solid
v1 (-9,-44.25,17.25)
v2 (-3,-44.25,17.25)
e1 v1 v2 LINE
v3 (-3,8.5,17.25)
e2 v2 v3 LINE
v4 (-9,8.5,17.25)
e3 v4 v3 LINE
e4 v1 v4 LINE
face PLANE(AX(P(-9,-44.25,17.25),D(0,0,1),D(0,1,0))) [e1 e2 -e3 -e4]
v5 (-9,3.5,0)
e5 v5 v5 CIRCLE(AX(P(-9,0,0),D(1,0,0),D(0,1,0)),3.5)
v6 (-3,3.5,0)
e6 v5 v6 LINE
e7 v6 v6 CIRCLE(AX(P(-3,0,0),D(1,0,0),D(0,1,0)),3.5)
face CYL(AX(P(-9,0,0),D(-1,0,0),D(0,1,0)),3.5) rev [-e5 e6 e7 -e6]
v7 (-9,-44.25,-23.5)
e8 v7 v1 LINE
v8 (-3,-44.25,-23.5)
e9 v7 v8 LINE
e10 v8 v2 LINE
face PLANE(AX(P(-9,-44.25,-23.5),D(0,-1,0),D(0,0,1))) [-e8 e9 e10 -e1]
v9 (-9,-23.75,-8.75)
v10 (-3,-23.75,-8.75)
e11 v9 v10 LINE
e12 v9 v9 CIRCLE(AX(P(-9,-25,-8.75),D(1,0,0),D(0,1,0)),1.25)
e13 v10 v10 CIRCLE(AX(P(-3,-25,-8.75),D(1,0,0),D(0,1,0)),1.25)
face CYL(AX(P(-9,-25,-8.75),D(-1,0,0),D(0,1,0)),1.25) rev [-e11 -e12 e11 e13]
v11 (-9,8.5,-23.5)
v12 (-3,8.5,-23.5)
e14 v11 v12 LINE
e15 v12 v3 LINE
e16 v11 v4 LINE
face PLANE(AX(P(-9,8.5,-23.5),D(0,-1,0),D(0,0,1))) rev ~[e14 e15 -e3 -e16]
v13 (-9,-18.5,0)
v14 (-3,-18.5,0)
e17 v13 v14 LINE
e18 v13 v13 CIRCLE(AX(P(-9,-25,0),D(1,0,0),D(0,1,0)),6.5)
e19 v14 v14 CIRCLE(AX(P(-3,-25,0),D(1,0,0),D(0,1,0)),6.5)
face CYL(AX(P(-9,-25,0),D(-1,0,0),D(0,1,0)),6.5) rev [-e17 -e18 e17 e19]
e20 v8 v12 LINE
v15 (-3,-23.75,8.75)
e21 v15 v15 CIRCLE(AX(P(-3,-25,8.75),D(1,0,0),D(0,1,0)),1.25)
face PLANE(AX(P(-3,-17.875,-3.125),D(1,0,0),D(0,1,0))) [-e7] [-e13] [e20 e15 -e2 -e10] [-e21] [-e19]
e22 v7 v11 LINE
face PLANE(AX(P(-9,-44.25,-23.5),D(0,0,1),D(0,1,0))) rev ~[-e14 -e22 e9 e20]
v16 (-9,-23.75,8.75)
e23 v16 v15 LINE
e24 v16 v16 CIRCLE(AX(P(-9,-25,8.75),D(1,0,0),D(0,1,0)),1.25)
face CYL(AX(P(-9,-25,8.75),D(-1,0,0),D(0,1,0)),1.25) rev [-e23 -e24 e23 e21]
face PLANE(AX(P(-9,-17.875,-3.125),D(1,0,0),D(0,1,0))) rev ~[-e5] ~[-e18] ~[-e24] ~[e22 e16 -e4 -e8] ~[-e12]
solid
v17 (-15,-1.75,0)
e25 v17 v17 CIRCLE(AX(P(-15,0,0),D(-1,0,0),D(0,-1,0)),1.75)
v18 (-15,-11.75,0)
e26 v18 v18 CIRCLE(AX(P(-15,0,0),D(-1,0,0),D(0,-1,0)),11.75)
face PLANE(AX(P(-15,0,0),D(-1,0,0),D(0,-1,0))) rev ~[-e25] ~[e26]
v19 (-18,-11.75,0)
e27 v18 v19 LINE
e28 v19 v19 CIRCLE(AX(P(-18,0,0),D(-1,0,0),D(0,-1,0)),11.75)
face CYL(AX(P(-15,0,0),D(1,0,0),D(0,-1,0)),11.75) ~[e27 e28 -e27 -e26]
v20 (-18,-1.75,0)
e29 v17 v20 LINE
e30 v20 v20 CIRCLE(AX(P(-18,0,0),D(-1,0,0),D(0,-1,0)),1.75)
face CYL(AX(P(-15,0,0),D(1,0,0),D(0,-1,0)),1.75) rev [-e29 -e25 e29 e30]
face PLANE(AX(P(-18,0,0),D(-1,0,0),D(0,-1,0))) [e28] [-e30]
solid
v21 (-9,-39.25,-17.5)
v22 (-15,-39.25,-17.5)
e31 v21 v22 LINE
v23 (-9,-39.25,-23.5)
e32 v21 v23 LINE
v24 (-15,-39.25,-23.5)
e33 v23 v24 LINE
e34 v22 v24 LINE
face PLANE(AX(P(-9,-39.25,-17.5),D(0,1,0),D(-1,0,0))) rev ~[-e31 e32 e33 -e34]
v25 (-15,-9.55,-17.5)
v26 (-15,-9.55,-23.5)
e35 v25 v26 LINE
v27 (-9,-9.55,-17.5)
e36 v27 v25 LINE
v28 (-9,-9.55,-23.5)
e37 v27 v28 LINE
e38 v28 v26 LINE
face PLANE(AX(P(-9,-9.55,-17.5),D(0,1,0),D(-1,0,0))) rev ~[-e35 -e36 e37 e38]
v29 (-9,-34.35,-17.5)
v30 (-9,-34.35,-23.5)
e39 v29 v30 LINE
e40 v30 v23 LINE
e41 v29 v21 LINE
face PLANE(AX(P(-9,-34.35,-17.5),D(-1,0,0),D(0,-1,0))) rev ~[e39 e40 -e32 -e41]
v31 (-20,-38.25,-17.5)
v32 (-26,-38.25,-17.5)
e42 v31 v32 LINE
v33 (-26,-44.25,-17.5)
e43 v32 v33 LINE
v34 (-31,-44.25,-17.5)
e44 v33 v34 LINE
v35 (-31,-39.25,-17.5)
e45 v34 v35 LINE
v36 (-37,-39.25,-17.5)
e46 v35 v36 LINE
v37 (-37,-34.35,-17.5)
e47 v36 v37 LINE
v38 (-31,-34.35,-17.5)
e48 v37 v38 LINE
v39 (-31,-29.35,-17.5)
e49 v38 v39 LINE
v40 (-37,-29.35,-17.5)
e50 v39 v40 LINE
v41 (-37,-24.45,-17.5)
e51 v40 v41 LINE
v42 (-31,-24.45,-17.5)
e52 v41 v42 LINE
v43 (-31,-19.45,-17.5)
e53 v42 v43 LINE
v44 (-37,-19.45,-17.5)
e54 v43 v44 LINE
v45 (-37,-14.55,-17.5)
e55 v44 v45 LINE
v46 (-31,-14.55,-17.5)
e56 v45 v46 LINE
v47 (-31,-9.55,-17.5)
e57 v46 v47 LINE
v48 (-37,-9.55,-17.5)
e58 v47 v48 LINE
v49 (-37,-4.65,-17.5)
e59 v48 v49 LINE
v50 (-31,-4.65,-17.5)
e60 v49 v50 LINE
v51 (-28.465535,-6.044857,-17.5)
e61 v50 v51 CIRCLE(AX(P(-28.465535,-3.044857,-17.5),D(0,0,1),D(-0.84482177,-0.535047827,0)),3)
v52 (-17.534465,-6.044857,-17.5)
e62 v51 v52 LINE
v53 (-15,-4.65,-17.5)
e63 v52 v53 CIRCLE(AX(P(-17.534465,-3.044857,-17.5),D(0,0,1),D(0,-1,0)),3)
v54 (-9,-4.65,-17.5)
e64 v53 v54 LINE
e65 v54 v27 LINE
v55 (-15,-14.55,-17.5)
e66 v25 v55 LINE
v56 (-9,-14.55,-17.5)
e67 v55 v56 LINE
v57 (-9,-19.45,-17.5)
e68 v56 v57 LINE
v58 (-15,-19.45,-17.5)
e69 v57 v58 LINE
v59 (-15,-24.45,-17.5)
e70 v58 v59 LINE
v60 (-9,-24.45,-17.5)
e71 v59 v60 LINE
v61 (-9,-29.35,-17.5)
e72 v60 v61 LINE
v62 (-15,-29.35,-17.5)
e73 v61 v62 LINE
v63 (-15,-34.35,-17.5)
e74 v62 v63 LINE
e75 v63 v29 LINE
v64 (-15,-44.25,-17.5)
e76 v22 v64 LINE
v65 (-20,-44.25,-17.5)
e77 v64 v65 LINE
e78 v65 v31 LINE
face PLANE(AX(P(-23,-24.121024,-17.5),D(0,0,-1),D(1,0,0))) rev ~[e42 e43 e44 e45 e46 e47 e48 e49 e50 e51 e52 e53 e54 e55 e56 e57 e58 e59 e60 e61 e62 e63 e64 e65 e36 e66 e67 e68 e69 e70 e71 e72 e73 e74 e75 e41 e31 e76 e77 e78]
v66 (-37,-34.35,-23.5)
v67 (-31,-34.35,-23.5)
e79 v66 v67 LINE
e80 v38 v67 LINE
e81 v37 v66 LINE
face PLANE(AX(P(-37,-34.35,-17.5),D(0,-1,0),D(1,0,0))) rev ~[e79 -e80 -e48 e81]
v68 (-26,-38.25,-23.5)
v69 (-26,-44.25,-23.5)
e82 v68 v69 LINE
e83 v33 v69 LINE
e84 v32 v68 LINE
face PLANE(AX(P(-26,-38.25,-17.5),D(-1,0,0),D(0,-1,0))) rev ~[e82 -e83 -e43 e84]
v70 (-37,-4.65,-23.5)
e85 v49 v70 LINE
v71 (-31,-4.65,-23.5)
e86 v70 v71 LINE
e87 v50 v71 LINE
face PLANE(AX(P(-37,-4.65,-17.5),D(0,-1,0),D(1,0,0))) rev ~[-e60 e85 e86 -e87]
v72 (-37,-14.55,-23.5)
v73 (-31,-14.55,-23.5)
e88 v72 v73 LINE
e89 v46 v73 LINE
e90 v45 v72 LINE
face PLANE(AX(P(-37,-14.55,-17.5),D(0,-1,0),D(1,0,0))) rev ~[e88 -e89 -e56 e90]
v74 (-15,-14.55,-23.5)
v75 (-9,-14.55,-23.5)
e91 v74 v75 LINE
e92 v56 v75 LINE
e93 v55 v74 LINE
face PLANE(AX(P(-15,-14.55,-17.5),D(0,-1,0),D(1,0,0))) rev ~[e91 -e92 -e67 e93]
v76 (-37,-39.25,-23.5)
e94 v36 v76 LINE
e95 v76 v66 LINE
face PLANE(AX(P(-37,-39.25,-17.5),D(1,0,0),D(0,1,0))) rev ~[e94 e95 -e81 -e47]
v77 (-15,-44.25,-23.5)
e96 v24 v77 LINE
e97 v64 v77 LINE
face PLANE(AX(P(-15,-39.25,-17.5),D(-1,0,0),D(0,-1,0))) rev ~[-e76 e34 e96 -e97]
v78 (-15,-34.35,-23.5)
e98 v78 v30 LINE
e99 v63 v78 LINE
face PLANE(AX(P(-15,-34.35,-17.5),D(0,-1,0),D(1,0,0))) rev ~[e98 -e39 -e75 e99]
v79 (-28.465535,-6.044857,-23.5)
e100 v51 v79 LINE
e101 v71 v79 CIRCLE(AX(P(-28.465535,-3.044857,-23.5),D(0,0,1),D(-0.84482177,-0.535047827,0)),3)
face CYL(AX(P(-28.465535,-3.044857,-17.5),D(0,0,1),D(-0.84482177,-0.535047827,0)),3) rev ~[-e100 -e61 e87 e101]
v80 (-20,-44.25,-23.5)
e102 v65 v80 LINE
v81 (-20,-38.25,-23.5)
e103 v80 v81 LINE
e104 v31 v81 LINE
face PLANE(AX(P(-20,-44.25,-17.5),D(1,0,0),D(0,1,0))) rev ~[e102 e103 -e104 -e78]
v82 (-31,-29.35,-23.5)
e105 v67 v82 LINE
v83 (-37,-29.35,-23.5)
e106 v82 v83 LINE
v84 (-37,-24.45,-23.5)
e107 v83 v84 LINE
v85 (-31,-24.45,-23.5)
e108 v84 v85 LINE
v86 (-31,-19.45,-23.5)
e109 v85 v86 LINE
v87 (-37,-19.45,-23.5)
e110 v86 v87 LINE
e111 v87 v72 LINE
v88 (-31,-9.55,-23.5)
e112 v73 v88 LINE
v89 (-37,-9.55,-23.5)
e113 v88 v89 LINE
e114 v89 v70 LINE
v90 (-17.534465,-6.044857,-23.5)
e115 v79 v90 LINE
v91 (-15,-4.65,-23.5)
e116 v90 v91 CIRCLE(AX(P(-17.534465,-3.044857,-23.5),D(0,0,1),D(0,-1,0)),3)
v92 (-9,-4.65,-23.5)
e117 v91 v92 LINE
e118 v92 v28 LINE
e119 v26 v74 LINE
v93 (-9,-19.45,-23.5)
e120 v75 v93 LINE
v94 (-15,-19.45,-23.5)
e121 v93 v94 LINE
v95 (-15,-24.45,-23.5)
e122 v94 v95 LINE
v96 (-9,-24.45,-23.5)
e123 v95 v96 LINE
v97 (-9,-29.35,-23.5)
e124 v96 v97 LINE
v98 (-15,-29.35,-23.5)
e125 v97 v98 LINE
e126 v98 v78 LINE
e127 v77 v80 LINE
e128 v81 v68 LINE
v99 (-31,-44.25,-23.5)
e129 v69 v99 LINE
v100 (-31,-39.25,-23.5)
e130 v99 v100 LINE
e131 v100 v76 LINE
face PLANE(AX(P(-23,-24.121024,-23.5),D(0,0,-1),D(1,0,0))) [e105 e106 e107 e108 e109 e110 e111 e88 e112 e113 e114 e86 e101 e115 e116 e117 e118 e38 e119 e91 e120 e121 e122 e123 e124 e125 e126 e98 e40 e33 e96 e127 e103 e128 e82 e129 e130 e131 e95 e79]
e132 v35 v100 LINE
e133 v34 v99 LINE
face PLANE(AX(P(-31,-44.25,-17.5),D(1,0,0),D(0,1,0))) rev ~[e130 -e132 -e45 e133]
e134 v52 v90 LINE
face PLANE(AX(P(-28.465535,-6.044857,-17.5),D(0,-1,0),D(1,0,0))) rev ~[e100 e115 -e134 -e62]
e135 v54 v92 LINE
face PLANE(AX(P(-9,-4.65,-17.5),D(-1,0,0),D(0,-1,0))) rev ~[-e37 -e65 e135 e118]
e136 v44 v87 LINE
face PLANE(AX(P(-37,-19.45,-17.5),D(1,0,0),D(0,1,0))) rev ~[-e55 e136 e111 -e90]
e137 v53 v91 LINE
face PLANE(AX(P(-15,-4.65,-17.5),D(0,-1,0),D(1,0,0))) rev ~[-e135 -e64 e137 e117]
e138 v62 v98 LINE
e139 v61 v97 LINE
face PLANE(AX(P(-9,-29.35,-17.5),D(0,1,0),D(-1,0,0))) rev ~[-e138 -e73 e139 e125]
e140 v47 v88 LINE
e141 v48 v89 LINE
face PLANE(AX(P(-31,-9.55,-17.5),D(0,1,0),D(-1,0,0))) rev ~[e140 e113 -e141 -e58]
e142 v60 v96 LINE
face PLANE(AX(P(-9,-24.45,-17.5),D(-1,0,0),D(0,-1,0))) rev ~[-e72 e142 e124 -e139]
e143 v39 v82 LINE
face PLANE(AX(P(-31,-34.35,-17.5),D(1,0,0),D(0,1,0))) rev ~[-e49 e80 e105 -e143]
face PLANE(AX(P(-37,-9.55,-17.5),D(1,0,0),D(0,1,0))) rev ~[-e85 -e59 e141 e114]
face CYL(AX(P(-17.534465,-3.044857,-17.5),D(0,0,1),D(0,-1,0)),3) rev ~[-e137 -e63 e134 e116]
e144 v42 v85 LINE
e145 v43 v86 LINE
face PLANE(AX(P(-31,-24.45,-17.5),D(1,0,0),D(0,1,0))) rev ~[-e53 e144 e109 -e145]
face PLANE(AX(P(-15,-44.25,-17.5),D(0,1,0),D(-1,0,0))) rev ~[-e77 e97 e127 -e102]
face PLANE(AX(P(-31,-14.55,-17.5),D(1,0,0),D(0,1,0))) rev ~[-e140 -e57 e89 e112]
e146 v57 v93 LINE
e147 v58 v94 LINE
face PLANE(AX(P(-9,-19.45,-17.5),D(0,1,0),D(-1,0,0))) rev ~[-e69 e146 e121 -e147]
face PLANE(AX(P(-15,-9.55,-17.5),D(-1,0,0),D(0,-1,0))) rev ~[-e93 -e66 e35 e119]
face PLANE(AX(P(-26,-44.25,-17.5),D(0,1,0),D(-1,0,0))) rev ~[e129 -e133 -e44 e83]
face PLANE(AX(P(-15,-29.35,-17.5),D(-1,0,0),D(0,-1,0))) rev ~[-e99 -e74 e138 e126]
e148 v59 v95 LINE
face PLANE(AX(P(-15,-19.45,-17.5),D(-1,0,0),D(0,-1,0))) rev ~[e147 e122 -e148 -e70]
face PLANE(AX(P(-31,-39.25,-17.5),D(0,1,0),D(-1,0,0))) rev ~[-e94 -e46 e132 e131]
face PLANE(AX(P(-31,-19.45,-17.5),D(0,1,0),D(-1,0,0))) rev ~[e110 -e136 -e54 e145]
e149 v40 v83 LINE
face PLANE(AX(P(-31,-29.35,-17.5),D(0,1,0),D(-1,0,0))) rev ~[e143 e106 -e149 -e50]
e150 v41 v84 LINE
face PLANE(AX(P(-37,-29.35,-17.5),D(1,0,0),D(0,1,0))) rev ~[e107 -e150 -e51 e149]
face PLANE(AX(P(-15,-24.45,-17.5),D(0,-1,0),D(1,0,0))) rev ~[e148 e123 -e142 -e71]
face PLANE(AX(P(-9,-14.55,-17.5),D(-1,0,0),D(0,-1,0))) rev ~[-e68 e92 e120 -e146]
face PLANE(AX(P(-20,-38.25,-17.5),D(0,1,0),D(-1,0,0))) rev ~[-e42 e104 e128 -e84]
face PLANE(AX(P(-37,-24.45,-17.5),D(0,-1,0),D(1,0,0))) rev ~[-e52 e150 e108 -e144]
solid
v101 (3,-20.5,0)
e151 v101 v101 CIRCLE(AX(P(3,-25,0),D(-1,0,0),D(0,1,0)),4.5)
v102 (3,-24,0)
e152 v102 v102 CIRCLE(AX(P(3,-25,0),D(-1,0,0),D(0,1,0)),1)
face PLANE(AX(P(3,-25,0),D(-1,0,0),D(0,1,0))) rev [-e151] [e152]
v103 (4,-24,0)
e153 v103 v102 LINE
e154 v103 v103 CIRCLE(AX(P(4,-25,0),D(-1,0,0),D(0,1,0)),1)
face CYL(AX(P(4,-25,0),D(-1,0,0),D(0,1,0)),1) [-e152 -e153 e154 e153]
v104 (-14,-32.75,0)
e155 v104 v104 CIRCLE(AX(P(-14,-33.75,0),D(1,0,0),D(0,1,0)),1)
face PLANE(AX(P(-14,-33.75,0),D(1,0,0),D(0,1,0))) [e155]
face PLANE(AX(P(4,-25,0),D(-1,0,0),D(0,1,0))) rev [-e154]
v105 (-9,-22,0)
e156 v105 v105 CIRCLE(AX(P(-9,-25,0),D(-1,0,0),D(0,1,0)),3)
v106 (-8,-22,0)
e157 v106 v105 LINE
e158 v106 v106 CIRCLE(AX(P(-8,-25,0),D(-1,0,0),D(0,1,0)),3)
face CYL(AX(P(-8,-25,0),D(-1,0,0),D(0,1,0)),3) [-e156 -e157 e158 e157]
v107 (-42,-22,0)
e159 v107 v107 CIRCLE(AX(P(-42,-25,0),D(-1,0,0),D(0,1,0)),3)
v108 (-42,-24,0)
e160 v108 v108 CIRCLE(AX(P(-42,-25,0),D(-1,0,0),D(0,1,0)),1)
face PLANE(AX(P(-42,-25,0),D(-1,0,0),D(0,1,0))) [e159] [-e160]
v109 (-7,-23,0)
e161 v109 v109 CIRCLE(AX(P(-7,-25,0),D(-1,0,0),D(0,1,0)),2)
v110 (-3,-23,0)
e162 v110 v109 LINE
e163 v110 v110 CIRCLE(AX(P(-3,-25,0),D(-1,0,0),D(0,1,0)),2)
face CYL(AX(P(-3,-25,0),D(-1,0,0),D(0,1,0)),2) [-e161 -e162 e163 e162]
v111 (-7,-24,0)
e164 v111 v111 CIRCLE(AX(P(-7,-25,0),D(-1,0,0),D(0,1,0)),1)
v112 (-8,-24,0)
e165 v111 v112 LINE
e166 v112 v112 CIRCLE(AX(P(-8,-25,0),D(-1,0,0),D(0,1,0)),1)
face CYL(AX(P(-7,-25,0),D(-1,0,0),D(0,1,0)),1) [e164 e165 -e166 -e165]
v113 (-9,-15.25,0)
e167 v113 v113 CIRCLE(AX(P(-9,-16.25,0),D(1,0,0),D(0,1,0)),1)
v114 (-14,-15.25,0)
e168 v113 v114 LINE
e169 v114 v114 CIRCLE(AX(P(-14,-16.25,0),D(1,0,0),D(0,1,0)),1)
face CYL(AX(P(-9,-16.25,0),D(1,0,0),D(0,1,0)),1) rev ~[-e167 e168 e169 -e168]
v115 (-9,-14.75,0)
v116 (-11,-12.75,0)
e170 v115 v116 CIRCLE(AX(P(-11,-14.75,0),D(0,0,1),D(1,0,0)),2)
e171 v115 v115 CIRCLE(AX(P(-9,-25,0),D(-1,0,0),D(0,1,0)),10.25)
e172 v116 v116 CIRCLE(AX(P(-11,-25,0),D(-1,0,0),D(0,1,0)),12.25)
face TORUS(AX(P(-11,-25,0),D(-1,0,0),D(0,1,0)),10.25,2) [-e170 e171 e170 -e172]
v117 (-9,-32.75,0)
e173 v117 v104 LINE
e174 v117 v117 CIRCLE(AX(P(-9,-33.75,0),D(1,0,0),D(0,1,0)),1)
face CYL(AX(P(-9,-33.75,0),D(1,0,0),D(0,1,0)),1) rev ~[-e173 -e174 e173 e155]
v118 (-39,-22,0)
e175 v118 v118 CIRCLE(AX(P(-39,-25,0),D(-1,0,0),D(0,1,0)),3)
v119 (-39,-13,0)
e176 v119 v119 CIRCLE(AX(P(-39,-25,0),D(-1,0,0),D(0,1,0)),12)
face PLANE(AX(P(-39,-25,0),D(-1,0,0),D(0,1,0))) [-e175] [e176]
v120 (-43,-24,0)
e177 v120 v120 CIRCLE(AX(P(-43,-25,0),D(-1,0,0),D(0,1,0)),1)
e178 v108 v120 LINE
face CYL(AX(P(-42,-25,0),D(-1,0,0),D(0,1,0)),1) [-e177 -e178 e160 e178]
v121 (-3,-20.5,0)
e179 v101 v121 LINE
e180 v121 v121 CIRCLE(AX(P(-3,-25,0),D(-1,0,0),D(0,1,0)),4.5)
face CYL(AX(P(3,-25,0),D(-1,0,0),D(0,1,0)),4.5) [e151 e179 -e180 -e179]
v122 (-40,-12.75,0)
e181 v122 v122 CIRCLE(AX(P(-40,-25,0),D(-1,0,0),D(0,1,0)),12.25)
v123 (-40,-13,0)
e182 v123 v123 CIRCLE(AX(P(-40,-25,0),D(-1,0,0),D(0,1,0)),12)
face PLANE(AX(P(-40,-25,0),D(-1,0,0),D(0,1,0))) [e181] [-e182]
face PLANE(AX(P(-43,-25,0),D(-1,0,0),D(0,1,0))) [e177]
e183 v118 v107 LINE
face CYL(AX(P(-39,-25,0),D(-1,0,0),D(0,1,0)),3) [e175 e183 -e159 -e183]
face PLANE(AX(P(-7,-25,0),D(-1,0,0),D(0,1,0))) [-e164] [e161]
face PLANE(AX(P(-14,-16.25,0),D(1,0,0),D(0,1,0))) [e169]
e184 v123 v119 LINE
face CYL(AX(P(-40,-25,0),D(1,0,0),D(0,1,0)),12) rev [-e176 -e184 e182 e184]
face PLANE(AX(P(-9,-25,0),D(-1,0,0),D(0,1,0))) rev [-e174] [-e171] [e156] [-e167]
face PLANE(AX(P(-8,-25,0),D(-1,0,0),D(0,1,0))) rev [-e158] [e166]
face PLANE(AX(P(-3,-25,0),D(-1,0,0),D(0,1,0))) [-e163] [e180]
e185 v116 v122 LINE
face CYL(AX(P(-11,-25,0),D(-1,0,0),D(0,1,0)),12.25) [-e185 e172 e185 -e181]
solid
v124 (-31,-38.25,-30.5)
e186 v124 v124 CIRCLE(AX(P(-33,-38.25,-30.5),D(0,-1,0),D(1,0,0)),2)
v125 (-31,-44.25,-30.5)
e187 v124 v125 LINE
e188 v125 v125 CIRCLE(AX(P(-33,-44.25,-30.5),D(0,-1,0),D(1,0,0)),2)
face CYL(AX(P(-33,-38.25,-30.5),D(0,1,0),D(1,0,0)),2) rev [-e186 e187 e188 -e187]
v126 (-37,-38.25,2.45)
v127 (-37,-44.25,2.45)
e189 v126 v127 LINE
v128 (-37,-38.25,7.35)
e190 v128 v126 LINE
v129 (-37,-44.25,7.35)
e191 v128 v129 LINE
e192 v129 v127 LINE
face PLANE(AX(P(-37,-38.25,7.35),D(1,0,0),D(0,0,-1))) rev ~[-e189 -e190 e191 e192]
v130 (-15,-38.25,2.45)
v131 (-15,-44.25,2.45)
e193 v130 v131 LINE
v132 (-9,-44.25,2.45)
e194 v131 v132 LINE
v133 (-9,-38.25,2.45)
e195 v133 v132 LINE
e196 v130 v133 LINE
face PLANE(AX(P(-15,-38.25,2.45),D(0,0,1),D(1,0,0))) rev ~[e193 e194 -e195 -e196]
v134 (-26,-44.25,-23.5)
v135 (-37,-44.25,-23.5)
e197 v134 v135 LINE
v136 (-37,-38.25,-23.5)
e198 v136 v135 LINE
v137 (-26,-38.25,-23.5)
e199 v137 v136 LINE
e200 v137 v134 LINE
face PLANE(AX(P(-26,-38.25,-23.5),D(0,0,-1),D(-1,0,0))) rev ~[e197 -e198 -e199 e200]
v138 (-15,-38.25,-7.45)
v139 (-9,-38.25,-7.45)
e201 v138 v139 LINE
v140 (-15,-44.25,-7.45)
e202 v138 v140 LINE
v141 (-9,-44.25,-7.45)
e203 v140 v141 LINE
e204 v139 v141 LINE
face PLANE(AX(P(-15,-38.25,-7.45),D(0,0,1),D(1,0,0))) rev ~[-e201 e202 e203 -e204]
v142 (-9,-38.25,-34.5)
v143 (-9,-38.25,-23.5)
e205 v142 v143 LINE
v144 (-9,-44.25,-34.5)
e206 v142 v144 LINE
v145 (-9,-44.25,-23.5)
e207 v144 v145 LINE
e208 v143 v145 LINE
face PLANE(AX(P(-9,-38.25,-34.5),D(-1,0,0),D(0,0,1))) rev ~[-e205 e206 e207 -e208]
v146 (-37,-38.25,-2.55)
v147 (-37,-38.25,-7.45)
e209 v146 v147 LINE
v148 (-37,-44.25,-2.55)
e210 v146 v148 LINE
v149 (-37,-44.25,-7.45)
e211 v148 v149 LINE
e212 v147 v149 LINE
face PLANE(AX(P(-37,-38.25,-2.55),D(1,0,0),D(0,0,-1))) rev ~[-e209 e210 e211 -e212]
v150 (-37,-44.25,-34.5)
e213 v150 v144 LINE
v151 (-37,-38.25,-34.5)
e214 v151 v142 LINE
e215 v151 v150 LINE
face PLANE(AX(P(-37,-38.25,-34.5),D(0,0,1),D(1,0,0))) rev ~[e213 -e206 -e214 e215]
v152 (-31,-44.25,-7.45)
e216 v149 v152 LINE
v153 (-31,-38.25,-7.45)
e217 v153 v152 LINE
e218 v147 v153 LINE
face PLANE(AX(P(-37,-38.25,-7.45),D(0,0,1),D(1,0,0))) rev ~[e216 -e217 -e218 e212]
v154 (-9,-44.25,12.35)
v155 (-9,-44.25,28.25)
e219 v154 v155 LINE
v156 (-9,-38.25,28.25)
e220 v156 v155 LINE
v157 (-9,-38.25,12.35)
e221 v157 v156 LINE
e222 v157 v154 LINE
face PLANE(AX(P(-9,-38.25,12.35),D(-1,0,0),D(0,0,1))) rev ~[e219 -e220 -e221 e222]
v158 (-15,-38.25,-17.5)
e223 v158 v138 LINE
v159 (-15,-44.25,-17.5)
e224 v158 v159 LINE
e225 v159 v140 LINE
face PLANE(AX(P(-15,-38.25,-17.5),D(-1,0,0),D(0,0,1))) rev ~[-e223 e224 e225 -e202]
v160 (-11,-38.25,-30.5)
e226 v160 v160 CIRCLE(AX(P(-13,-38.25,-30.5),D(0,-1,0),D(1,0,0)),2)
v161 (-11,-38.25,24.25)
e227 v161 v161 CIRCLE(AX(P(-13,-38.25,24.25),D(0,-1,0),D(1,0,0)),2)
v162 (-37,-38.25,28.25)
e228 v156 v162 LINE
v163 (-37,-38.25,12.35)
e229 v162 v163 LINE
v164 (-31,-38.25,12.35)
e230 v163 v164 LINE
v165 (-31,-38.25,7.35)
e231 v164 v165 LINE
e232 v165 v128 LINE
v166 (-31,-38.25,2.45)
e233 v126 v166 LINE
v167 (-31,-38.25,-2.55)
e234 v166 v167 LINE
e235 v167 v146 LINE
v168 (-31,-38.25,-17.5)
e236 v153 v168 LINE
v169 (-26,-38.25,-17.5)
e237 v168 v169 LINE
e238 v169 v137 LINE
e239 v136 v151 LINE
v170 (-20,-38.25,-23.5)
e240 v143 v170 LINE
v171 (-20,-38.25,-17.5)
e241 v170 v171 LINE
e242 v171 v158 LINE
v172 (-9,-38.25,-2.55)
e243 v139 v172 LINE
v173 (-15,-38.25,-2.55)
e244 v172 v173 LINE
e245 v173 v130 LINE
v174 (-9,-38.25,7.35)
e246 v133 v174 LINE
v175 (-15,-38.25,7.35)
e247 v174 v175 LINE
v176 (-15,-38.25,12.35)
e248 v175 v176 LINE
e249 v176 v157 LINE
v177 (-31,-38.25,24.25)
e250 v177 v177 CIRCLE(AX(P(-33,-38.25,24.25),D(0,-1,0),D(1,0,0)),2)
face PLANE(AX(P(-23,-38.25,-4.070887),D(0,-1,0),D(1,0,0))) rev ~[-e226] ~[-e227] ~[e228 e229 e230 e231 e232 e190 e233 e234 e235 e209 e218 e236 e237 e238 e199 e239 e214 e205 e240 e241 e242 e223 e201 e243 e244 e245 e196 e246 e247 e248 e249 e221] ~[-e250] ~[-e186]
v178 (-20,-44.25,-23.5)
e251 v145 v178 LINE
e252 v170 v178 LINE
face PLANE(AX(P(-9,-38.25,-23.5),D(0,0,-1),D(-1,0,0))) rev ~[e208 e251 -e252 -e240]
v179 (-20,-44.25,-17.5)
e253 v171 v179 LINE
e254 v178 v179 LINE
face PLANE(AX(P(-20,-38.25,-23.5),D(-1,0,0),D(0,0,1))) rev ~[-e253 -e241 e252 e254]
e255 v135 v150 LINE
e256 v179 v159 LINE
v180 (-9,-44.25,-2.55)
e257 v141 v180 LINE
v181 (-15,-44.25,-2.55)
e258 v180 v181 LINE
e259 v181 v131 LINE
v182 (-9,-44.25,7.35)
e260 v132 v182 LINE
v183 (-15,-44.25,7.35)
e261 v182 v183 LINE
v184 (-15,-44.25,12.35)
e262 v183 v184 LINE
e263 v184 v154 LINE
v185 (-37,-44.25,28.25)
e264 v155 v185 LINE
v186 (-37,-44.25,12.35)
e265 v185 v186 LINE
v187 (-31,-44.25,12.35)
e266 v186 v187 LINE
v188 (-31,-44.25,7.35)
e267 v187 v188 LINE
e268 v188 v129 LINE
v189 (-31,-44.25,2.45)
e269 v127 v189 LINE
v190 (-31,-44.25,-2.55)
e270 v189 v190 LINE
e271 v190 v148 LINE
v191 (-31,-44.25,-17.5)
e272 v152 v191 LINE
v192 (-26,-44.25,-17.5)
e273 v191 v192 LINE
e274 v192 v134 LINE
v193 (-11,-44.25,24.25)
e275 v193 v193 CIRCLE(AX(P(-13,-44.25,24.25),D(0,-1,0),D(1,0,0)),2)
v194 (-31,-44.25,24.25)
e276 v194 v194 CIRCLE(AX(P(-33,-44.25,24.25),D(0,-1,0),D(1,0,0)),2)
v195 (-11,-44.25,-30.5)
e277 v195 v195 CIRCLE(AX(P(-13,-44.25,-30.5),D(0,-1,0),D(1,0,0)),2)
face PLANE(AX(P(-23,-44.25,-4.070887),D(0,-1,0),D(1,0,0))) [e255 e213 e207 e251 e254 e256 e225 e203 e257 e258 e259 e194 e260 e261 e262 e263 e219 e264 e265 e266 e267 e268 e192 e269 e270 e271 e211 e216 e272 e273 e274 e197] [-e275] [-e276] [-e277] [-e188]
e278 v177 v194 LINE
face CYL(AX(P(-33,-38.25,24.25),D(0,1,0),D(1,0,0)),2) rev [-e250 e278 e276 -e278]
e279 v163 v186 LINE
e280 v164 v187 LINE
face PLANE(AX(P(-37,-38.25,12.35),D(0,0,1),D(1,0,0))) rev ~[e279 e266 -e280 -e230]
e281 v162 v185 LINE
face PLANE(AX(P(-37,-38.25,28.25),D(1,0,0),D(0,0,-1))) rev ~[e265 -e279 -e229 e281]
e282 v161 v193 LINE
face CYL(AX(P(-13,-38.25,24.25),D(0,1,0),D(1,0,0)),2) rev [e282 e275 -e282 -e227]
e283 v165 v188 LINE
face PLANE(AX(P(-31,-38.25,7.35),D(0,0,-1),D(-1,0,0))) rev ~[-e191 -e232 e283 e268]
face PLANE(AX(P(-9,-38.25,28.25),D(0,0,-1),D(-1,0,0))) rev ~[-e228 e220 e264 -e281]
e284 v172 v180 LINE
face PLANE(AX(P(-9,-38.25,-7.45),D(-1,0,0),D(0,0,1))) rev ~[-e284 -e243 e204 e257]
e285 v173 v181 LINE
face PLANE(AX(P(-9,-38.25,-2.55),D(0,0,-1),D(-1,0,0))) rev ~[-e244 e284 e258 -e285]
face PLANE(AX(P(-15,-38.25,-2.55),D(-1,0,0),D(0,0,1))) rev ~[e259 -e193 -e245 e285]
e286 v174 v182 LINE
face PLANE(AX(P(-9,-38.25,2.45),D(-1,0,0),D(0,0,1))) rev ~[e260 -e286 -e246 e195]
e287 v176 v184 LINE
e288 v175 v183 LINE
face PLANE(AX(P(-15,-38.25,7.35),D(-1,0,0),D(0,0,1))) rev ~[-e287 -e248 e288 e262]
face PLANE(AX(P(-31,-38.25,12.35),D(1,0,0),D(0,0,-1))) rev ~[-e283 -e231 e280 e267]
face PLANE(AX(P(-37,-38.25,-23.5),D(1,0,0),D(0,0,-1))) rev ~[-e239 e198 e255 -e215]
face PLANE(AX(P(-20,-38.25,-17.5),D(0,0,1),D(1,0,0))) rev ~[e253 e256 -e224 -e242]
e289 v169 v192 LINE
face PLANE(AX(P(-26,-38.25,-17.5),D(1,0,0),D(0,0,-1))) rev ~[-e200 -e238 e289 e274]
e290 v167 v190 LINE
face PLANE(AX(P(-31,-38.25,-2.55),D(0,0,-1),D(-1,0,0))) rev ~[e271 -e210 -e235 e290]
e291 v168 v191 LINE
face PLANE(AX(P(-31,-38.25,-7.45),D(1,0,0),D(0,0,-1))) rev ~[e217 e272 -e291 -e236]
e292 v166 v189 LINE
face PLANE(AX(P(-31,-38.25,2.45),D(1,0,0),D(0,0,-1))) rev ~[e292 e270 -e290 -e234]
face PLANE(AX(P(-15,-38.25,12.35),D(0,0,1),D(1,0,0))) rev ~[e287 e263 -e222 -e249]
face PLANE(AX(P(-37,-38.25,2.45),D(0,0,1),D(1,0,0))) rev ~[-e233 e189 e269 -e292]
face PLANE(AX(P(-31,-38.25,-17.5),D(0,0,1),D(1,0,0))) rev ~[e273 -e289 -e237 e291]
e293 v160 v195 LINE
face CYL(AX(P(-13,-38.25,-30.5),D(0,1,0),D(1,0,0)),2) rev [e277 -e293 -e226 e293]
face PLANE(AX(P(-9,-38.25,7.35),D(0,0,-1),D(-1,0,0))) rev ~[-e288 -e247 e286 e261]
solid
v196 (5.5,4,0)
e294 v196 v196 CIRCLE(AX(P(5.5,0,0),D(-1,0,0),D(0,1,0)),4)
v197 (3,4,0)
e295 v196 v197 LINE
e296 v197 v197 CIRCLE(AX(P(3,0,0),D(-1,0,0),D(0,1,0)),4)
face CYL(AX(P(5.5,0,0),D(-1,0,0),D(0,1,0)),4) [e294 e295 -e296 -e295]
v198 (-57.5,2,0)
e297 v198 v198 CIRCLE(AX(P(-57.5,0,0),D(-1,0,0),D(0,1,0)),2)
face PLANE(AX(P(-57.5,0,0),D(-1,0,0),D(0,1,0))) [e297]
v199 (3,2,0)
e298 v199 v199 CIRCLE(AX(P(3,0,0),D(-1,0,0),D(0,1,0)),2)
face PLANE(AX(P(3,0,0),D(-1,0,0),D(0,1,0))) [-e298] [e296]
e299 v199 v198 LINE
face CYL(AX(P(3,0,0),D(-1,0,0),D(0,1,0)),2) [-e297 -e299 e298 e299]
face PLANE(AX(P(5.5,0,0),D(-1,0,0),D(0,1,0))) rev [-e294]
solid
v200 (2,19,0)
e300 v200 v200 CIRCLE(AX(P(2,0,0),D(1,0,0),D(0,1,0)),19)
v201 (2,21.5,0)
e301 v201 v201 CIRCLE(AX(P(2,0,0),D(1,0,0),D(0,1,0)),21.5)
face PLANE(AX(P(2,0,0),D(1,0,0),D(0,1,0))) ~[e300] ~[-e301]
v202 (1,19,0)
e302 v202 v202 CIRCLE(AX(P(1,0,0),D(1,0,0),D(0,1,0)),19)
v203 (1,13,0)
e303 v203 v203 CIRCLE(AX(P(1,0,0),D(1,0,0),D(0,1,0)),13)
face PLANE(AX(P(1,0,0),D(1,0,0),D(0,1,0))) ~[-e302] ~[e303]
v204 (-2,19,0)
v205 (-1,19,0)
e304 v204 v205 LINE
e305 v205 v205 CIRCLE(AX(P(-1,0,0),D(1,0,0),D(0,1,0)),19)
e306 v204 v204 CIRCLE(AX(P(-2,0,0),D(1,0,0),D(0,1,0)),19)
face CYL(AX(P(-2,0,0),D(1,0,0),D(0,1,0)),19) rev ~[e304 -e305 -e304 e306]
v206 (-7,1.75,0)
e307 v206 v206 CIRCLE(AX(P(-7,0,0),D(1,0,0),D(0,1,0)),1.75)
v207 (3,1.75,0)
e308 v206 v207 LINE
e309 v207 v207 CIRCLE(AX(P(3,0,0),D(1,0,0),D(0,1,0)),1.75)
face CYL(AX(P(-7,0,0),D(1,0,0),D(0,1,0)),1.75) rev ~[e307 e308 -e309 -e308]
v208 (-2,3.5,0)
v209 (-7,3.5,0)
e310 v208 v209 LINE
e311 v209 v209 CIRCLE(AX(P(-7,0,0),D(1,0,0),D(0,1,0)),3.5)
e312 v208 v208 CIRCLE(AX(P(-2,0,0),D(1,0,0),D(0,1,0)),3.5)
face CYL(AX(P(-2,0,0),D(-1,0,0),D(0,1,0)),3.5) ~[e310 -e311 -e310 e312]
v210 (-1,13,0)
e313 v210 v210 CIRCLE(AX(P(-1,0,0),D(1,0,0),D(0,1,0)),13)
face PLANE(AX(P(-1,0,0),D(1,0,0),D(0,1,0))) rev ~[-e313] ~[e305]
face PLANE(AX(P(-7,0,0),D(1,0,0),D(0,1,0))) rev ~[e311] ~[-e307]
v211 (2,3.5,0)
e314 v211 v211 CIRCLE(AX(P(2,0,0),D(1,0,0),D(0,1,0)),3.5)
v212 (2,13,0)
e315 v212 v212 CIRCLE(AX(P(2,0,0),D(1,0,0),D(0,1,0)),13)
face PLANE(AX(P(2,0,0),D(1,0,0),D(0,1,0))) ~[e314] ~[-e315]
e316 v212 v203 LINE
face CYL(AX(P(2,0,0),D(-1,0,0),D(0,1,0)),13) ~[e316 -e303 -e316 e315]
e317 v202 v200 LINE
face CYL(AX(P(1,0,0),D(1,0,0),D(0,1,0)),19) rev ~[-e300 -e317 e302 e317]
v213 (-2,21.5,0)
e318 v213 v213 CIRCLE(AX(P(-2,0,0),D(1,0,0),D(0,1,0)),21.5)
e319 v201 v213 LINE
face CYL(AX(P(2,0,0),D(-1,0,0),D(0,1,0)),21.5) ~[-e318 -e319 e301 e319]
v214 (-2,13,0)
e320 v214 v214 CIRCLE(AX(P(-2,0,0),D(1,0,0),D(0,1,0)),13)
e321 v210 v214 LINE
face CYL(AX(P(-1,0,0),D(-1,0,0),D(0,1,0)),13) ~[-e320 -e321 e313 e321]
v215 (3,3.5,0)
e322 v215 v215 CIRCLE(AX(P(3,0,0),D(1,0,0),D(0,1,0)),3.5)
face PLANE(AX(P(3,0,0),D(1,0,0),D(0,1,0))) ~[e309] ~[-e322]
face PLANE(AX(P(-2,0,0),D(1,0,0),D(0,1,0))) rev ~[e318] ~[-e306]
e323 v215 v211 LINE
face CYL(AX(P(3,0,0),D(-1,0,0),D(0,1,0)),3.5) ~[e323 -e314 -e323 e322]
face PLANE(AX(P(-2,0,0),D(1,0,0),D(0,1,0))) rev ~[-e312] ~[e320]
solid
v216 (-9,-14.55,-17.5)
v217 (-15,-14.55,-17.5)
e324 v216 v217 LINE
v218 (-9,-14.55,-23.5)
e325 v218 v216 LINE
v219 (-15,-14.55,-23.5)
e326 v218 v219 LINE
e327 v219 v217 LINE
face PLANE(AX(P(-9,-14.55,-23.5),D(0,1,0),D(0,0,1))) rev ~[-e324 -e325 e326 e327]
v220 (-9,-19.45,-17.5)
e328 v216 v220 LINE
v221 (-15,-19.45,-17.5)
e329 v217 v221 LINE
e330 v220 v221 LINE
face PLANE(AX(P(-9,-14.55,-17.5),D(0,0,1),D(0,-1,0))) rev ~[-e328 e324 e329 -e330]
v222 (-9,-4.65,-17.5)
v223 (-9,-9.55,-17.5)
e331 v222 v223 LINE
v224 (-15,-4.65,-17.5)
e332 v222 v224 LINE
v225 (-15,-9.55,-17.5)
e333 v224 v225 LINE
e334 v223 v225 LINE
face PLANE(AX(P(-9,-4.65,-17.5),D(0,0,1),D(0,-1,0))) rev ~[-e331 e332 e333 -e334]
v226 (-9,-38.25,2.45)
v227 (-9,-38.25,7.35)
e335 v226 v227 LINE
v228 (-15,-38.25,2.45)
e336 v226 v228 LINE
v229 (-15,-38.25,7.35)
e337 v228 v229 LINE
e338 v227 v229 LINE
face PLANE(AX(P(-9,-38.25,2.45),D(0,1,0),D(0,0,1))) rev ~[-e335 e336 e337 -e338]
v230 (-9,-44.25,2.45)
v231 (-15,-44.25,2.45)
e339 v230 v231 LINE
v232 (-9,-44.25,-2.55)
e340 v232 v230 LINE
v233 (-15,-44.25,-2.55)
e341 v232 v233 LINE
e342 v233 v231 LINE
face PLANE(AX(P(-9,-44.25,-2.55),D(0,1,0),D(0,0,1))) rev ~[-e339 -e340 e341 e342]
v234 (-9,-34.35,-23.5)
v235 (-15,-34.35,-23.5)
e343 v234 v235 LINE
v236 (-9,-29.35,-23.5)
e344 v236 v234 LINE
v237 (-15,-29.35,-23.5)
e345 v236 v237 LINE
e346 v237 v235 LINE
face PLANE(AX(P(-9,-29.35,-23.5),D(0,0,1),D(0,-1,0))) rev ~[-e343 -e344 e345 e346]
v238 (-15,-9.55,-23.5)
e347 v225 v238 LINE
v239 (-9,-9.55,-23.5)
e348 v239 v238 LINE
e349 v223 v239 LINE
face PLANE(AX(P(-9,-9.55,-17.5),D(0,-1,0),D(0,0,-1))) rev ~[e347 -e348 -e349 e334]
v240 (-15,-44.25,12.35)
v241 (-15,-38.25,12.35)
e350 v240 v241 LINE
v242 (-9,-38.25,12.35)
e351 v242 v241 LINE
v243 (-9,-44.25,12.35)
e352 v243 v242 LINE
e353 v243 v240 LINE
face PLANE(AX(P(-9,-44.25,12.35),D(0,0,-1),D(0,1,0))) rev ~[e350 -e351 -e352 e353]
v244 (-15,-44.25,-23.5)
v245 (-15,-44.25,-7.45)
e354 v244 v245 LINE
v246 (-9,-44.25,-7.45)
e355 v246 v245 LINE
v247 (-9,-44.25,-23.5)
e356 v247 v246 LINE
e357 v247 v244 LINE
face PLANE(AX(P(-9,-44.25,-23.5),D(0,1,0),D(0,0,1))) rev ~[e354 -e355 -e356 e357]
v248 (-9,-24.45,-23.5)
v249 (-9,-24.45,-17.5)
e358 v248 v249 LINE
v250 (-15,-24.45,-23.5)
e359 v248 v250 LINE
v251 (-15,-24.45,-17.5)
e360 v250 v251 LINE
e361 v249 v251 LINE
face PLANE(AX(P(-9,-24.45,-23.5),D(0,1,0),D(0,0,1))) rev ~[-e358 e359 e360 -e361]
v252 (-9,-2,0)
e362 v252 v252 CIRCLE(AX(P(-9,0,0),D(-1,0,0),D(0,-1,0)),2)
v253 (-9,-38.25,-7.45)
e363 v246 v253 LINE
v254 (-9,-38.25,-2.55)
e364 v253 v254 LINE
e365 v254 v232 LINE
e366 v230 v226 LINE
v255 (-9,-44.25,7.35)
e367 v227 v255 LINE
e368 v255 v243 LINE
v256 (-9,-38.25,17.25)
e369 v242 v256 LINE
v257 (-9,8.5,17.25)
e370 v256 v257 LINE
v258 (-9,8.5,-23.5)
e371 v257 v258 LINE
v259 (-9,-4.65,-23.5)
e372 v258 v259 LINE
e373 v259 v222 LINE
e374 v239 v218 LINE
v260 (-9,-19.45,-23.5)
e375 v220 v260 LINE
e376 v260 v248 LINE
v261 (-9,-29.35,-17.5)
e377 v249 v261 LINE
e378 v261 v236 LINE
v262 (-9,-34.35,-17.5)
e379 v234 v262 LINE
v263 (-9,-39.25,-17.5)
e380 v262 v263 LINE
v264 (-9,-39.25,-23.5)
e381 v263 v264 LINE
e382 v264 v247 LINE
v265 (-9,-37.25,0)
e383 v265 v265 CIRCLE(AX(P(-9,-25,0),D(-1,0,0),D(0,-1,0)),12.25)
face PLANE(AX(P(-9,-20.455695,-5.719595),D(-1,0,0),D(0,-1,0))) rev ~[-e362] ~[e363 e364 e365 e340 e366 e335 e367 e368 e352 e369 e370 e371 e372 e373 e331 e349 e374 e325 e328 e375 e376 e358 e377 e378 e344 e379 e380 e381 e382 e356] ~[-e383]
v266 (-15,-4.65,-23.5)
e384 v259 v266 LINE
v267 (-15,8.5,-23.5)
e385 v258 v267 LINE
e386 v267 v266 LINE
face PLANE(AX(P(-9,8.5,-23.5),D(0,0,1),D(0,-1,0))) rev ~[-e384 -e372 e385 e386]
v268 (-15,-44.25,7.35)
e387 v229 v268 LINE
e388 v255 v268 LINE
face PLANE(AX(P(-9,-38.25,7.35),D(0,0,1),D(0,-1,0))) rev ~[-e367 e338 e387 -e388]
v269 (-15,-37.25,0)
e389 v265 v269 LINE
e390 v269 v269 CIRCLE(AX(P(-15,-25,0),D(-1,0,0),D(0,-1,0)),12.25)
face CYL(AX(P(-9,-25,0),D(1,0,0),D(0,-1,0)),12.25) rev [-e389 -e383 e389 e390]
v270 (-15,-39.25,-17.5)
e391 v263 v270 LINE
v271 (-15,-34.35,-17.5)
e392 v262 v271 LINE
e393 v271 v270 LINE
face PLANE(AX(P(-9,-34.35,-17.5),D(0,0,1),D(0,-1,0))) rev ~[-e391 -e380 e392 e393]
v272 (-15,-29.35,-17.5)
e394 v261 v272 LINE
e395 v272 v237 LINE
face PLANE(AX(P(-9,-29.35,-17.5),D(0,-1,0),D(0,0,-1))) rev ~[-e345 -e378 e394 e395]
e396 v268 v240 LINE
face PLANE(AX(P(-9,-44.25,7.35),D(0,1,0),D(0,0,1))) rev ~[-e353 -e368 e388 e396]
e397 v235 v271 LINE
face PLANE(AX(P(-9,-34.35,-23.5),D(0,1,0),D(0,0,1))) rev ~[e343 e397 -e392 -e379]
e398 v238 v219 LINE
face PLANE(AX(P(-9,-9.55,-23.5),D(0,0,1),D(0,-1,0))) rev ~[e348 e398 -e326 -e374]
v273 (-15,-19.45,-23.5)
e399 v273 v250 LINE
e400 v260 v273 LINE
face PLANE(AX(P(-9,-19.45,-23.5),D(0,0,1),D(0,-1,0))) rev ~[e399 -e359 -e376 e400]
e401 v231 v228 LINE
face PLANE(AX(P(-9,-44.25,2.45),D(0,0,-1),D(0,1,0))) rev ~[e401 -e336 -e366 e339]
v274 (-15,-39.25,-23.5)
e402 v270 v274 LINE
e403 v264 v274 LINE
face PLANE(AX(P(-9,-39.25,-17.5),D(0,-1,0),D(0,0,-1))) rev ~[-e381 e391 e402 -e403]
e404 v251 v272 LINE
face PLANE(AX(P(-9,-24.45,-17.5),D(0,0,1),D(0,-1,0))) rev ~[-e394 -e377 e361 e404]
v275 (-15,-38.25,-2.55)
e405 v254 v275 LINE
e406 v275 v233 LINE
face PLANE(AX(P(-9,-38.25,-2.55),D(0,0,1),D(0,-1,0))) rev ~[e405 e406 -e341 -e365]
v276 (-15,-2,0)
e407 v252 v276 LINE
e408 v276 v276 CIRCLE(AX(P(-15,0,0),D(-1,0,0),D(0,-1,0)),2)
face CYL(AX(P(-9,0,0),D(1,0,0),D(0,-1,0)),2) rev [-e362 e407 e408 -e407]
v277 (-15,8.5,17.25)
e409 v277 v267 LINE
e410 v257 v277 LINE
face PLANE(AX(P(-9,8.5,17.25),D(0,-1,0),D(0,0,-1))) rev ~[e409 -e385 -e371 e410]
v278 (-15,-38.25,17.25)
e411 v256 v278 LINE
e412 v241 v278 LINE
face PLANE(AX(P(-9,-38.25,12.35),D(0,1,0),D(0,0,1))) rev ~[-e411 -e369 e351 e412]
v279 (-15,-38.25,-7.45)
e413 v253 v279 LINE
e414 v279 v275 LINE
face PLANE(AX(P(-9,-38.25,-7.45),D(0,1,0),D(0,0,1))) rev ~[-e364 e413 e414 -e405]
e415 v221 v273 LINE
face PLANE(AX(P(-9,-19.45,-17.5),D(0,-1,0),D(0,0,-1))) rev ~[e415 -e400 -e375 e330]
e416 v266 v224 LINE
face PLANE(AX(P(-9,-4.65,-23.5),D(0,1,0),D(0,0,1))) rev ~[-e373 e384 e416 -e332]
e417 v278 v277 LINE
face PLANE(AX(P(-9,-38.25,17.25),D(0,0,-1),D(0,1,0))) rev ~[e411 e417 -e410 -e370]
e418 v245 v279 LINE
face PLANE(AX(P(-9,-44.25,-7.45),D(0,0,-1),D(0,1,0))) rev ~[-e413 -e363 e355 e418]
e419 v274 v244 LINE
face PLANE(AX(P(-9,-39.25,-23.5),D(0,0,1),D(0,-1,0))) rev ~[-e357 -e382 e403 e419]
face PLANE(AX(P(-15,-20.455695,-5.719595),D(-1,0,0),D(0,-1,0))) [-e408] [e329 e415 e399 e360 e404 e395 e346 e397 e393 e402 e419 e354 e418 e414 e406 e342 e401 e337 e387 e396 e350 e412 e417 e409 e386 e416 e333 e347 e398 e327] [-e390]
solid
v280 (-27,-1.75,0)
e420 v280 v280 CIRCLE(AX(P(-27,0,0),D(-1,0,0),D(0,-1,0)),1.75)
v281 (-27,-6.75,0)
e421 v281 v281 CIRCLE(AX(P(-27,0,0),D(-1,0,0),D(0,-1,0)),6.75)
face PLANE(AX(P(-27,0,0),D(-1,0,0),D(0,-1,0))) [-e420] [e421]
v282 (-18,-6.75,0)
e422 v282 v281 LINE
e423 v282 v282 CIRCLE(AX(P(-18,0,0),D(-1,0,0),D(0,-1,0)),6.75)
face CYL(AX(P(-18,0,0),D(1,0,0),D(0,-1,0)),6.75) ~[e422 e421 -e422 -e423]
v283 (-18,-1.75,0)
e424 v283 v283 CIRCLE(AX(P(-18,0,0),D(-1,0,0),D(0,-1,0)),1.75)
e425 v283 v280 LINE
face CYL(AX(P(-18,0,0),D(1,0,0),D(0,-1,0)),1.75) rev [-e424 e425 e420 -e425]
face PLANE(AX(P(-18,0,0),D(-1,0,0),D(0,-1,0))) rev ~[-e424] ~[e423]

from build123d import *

# Parameters (mm, degrees)
F7_R      = 1
F8_DEPTH  = 5
F9_W      = 52.75
F9_H      = 40.75
F9_R      = 1.25
F9_R_2    = 6.5
F9_R_3    = 3.5
F10_DEPTH = 6
F11_R     = 2
F11_R_2   = 12.25
F12_DEPTH = 6
F14_DEPTH = 6
F15_R     = 2
F16_DEPTH = 6
F17_R     = 11.75
F17_R_2   = 1.75
F18_DEPTH = 3
F19_R     = 6.75
F19_R_2   = 1.75
F20_DEPTH = 9


with BuildPart() as f2:
    # F1 (on Top) → F2 (revolve)
    with BuildSketch(Plane.XY):
        Polygon((2, 21.5), (0, 21.5), (-2, 21.5), (-2, 19), (-1, 19), (-1, 13), (-2, 13), (-2, 3.5), (-7, 3.5), (-7, 1.75), (0, 1.75), (3, 1.75), (3, 3.5), (2, 3.5), (2, 13), (1, 13), (1, 19), (2, 19), align=None)
    revolve(axis=Axis((3.1311251223, 0, 0), (1, 0, 0)))


with BuildPart() as f4:
    # F3 (on Top) → F4 (revolve)
    with BuildSketch(Plane.XY):
        Polygon((3, 2), (-57.5, 2), (-57.5, 0), (5.5, 0), (5.5, 4), (3, 4), align=None)
    revolve(axis=Axis((-26, 0, 0), (-1, 0, 0)))


with BuildPart() as f6:
    # F5 (on Top) → F6 (revolve)
    with BuildSketch(Plane.XY):
        with BuildLine():
            Line((-11, -12.75), (-40, -12.75))
            Line((-40, -12.75), (-40, -13))
            Line((-40, -13), (-39, -13))
            Line((-39, -13), (-39, -22))
            Line((-39, -22), (-42, -22))
            Line((-42, -22), (-42, -24))
            Line((-42, -24), (-43, -24))
            Line((-43, -24), (-43, -25))
            Line((-43, -25), (4, -25))
            Line((4, -25), (4, -24))
            Line((4, -24), (3, -24))
            Line((3, -24), (3, -20.5))
            Line((3, -20.5), (-3, -20.5))
            Line((-3, -20.5), (-3, -23))
            Line((-3, -23), (-7, -23))
            Line((-7, -23), (-7, -24))
            Line((-7, -24), (-8, -24))
            Line((-8, -24), (-8, -22))
            Line((-8, -22), (-9, -22))
            Line((-9, -22), (-9, -14.75))
            ThreePointArc((-9, -14.75), (-9.5857864376, -13.3357864376), (-11, -12.75))
        make_face()
    revolve(axis=Axis((-19.5, -25, 0), (-1, 0, 0)))

    # F7 (on face) → F8 (cut)
    with BuildSketch(Plane.YZ.offset(-9)):
        with Locations((-33.75, 0)):
            Circle(F7_R)
        with Locations((-16.25, 0)):
            Circle(F7_R)
    extrude(amount=-F8_DEPTH, mode=Mode.SUBTRACT)


with BuildPart() as f10:
    # F9 (on face) → F10 (new body)
    with BuildSketch(Plane.YZ.offset(-9)):
        with Locations((-17.875, -3.125)):
            Rectangle(F9_W, F9_H)
        with Locations((-25, -8.75)):
            Circle(F9_R, mode=Mode.SUBTRACT)
        with Locations((-25, 0)):
            Circle(F9_R_2, mode=Mode.SUBTRACT)
        with Locations((-25, 8.75)):
            Circle(F9_R, mode=Mode.SUBTRACT)
        Circle(F9_R_3, mode=Mode.SUBTRACT)
    extrude(amount=F10_DEPTH)


with BuildPart() as f12:
    # F11 (on face) → F12 (new body)
    with BuildSketch(Plane(origin=(-9, 0, 0), x_dir=(0, -1, 0), z_dir=(-1, 0, 0))):
        Polygon((38.25, 17.25), (-8.5, 17.25), (-8.5, -23.5), (4.65, -23.5), (4.65, -17.5), (9.55, -17.5), (9.55, -23.5), (14.55, -23.5), (14.55, -17.5), (19.45, -17.5), (19.45, -23.5), (24.45, -23.5), (24.45, -17.5), (29.35, -17.5), (29.35, -23.5), (34.35, -23.5), (34.35, -17.5), (39.25, -17.5), (39.25, -23.5), (44.25, -23.5), (44.25, -7.45), (38.25, -7.45), (38.25, -2.55), (44.25, -2.55), (44.25, 2.45), (38.25, 2.45), (38.25, 7.35), (44.25, 7.35), (44.25, 12.35), (38.25, 12.35), align=None)
        Circle(F11_R, mode=Mode.SUBTRACT)
        with Locations((25, 0)):
            Circle(F11_R_2, mode=Mode.SUBTRACT)
    extrude(amount=F12_DEPTH)


with BuildPart() as f14:
    # F13 (on face) → F14 (new body)
    with BuildSketch(Plane(origin=(0, 0, -17.5), x_dir=(1, 0, 0), z_dir=(0, 0, -1))):
        with BuildLine():
            Line((-15, 4.65), (-9, 4.65))
            Line((-9, 4.65), (-9, 9.55))
            Line((-9, 9.55), (-15, 9.55))
            Line((-15, 9.55), (-15, 14.55))
            Line((-15, 14.55), (-9, 14.55))
            Line((-9, 14.55), (-9, 19.45))
            Line((-9, 19.45), (-15, 19.45))
            Line((-15, 19.45), (-15, 24.45))
            Line((-15, 24.45), (-9, 24.45))
            Line((-9, 24.45), (-9, 29.35))
            Line((-9, 29.35), (-15, 29.35))
            Line((-15, 29.35), (-15, 34.35))
            Line((-15, 34.35), (-9, 34.35))
            Line((-9, 34.35), (-9, 39.25))
            Line((-9, 39.25), (-15, 39.25))
            Line((-15, 39.25), (-15, 44.25))
            Line((-15, 44.25), (-20, 44.25))
            Line((-20, 44.25), (-20, 38.25))
            Line((-20, 38.25), (-26, 38.25))
            Line((-26, 38.25), (-26, 44.25))
            Line((-26, 44.25), (-31, 44.25))
            Line((-31, 44.25), (-31, 39.25))
            Line((-31, 39.25), (-37, 39.25))
            Line((-37, 39.25), (-37, 34.35))
            Line((-37, 34.35), (-31, 34.35))
            Line((-31, 34.35), (-31, 29.35))
            Line((-31, 29.35), (-37, 29.35))
            Line((-37, 29.35), (-37, 24.45))
            Line((-37, 24.45), (-31, 24.45))
            Line((-31, 24.45), (-31, 19.45))
            Line((-31, 19.45), (-37, 19.45))
            Line((-37, 19.45), (-37, 14.55))
            Line((-37, 14.55), (-31, 14.55))
            Line((-31, 14.55), (-31, 9.55))
            Line((-31, 9.55), (-37, 9.55))
            Line((-37, 9.55), (-37, 4.65))
            Line((-37, 4.65), (-31, 4.65))
            ThreePointArc((-31, 4.65), (-29.9120079111, 5.6731097841), (-28.4655346897, 6.0448565201))
            Line((-28.4655346897, 6.0448565201), (-23, 6.0448565201))
            Line((-23, 6.0448565201), (-17.5344653103, 6.0448565201))
            ThreePointArc((-17.5344653103, 6.0448565201), (-16.0879920889, 5.6731097841), (-15, 4.65))
        make_face()
    extrude(amount=F14_DEPTH)


with BuildPart() as f16:
    # F15 (on face) → F16 (new body)
    with BuildSketch(Plane.XZ.offset(38.25)):
        Polygon((-9, 12.35), (-9, 28.25), (-23, 28.25), (-37, 28.25), (-37, 12.35), (-31, 12.35), (-31, 7.35), (-37, 7.35), (-37, 2.45), (-31, 2.45), (-31, -2.55), (-37, -2.55), (-37, -7.45), (-31, -7.45), (-31, -17.5), (-26, -17.5), (-26, -23.5), (-37, -23.5), (-37, -34.5), (-23, -34.5), (-9, -34.5), (-9, -23.5), (-20, -23.5), (-20, -17.5), (-15, -17.5), (-15, -7.45), (-9, -7.45), (-9, -2.55), (-15, -2.55), (-15, 2.45), (-9, 2.45), (-9, 7.35), (-15, 7.35), (-15, 12.35), align=None)
        with Locations((-33, -30.5)):
            Circle(F15_R, mode=Mode.SUBTRACT)
        with Locations((-13, -30.5)):
            Circle(F15_R, mode=Mode.SUBTRACT)
        with Locations((-33, 24.25)):
            Circle(F15_R, mode=Mode.SUBTRACT)
        with Locations((-13, 24.25)):
            Circle(F15_R, mode=Mode.SUBTRACT)
    extrude(amount=F16_DEPTH)


with BuildPart() as f18:
    # F17 (on face) → F18 (new body)
    with BuildSketch(Plane(origin=(-15, 0, 0), x_dir=(0, -1, 0), z_dir=(-1, 0, 0))):
        Circle(F17_R)
        Circle(F17_R_2, mode=Mode.SUBTRACT)
    extrude(amount=F18_DEPTH)


with BuildPart() as f20:
    # F19 (on face) → F20 (new body)
    with BuildSketch(Plane(origin=(-18, 0, 0), x_dir=(0, -1, 0), z_dir=(-1, 0, 0))):
        Circle(F19_R)
        Circle(F19_R_2, mode=Mode.SUBTRACT)
    extrude(amount=F20_DEPTH)


solid = Compound([f2.part, f4.part, f6.part, f10.part, f12.part, f14.part, f16.part, f18.part, f20.part])
